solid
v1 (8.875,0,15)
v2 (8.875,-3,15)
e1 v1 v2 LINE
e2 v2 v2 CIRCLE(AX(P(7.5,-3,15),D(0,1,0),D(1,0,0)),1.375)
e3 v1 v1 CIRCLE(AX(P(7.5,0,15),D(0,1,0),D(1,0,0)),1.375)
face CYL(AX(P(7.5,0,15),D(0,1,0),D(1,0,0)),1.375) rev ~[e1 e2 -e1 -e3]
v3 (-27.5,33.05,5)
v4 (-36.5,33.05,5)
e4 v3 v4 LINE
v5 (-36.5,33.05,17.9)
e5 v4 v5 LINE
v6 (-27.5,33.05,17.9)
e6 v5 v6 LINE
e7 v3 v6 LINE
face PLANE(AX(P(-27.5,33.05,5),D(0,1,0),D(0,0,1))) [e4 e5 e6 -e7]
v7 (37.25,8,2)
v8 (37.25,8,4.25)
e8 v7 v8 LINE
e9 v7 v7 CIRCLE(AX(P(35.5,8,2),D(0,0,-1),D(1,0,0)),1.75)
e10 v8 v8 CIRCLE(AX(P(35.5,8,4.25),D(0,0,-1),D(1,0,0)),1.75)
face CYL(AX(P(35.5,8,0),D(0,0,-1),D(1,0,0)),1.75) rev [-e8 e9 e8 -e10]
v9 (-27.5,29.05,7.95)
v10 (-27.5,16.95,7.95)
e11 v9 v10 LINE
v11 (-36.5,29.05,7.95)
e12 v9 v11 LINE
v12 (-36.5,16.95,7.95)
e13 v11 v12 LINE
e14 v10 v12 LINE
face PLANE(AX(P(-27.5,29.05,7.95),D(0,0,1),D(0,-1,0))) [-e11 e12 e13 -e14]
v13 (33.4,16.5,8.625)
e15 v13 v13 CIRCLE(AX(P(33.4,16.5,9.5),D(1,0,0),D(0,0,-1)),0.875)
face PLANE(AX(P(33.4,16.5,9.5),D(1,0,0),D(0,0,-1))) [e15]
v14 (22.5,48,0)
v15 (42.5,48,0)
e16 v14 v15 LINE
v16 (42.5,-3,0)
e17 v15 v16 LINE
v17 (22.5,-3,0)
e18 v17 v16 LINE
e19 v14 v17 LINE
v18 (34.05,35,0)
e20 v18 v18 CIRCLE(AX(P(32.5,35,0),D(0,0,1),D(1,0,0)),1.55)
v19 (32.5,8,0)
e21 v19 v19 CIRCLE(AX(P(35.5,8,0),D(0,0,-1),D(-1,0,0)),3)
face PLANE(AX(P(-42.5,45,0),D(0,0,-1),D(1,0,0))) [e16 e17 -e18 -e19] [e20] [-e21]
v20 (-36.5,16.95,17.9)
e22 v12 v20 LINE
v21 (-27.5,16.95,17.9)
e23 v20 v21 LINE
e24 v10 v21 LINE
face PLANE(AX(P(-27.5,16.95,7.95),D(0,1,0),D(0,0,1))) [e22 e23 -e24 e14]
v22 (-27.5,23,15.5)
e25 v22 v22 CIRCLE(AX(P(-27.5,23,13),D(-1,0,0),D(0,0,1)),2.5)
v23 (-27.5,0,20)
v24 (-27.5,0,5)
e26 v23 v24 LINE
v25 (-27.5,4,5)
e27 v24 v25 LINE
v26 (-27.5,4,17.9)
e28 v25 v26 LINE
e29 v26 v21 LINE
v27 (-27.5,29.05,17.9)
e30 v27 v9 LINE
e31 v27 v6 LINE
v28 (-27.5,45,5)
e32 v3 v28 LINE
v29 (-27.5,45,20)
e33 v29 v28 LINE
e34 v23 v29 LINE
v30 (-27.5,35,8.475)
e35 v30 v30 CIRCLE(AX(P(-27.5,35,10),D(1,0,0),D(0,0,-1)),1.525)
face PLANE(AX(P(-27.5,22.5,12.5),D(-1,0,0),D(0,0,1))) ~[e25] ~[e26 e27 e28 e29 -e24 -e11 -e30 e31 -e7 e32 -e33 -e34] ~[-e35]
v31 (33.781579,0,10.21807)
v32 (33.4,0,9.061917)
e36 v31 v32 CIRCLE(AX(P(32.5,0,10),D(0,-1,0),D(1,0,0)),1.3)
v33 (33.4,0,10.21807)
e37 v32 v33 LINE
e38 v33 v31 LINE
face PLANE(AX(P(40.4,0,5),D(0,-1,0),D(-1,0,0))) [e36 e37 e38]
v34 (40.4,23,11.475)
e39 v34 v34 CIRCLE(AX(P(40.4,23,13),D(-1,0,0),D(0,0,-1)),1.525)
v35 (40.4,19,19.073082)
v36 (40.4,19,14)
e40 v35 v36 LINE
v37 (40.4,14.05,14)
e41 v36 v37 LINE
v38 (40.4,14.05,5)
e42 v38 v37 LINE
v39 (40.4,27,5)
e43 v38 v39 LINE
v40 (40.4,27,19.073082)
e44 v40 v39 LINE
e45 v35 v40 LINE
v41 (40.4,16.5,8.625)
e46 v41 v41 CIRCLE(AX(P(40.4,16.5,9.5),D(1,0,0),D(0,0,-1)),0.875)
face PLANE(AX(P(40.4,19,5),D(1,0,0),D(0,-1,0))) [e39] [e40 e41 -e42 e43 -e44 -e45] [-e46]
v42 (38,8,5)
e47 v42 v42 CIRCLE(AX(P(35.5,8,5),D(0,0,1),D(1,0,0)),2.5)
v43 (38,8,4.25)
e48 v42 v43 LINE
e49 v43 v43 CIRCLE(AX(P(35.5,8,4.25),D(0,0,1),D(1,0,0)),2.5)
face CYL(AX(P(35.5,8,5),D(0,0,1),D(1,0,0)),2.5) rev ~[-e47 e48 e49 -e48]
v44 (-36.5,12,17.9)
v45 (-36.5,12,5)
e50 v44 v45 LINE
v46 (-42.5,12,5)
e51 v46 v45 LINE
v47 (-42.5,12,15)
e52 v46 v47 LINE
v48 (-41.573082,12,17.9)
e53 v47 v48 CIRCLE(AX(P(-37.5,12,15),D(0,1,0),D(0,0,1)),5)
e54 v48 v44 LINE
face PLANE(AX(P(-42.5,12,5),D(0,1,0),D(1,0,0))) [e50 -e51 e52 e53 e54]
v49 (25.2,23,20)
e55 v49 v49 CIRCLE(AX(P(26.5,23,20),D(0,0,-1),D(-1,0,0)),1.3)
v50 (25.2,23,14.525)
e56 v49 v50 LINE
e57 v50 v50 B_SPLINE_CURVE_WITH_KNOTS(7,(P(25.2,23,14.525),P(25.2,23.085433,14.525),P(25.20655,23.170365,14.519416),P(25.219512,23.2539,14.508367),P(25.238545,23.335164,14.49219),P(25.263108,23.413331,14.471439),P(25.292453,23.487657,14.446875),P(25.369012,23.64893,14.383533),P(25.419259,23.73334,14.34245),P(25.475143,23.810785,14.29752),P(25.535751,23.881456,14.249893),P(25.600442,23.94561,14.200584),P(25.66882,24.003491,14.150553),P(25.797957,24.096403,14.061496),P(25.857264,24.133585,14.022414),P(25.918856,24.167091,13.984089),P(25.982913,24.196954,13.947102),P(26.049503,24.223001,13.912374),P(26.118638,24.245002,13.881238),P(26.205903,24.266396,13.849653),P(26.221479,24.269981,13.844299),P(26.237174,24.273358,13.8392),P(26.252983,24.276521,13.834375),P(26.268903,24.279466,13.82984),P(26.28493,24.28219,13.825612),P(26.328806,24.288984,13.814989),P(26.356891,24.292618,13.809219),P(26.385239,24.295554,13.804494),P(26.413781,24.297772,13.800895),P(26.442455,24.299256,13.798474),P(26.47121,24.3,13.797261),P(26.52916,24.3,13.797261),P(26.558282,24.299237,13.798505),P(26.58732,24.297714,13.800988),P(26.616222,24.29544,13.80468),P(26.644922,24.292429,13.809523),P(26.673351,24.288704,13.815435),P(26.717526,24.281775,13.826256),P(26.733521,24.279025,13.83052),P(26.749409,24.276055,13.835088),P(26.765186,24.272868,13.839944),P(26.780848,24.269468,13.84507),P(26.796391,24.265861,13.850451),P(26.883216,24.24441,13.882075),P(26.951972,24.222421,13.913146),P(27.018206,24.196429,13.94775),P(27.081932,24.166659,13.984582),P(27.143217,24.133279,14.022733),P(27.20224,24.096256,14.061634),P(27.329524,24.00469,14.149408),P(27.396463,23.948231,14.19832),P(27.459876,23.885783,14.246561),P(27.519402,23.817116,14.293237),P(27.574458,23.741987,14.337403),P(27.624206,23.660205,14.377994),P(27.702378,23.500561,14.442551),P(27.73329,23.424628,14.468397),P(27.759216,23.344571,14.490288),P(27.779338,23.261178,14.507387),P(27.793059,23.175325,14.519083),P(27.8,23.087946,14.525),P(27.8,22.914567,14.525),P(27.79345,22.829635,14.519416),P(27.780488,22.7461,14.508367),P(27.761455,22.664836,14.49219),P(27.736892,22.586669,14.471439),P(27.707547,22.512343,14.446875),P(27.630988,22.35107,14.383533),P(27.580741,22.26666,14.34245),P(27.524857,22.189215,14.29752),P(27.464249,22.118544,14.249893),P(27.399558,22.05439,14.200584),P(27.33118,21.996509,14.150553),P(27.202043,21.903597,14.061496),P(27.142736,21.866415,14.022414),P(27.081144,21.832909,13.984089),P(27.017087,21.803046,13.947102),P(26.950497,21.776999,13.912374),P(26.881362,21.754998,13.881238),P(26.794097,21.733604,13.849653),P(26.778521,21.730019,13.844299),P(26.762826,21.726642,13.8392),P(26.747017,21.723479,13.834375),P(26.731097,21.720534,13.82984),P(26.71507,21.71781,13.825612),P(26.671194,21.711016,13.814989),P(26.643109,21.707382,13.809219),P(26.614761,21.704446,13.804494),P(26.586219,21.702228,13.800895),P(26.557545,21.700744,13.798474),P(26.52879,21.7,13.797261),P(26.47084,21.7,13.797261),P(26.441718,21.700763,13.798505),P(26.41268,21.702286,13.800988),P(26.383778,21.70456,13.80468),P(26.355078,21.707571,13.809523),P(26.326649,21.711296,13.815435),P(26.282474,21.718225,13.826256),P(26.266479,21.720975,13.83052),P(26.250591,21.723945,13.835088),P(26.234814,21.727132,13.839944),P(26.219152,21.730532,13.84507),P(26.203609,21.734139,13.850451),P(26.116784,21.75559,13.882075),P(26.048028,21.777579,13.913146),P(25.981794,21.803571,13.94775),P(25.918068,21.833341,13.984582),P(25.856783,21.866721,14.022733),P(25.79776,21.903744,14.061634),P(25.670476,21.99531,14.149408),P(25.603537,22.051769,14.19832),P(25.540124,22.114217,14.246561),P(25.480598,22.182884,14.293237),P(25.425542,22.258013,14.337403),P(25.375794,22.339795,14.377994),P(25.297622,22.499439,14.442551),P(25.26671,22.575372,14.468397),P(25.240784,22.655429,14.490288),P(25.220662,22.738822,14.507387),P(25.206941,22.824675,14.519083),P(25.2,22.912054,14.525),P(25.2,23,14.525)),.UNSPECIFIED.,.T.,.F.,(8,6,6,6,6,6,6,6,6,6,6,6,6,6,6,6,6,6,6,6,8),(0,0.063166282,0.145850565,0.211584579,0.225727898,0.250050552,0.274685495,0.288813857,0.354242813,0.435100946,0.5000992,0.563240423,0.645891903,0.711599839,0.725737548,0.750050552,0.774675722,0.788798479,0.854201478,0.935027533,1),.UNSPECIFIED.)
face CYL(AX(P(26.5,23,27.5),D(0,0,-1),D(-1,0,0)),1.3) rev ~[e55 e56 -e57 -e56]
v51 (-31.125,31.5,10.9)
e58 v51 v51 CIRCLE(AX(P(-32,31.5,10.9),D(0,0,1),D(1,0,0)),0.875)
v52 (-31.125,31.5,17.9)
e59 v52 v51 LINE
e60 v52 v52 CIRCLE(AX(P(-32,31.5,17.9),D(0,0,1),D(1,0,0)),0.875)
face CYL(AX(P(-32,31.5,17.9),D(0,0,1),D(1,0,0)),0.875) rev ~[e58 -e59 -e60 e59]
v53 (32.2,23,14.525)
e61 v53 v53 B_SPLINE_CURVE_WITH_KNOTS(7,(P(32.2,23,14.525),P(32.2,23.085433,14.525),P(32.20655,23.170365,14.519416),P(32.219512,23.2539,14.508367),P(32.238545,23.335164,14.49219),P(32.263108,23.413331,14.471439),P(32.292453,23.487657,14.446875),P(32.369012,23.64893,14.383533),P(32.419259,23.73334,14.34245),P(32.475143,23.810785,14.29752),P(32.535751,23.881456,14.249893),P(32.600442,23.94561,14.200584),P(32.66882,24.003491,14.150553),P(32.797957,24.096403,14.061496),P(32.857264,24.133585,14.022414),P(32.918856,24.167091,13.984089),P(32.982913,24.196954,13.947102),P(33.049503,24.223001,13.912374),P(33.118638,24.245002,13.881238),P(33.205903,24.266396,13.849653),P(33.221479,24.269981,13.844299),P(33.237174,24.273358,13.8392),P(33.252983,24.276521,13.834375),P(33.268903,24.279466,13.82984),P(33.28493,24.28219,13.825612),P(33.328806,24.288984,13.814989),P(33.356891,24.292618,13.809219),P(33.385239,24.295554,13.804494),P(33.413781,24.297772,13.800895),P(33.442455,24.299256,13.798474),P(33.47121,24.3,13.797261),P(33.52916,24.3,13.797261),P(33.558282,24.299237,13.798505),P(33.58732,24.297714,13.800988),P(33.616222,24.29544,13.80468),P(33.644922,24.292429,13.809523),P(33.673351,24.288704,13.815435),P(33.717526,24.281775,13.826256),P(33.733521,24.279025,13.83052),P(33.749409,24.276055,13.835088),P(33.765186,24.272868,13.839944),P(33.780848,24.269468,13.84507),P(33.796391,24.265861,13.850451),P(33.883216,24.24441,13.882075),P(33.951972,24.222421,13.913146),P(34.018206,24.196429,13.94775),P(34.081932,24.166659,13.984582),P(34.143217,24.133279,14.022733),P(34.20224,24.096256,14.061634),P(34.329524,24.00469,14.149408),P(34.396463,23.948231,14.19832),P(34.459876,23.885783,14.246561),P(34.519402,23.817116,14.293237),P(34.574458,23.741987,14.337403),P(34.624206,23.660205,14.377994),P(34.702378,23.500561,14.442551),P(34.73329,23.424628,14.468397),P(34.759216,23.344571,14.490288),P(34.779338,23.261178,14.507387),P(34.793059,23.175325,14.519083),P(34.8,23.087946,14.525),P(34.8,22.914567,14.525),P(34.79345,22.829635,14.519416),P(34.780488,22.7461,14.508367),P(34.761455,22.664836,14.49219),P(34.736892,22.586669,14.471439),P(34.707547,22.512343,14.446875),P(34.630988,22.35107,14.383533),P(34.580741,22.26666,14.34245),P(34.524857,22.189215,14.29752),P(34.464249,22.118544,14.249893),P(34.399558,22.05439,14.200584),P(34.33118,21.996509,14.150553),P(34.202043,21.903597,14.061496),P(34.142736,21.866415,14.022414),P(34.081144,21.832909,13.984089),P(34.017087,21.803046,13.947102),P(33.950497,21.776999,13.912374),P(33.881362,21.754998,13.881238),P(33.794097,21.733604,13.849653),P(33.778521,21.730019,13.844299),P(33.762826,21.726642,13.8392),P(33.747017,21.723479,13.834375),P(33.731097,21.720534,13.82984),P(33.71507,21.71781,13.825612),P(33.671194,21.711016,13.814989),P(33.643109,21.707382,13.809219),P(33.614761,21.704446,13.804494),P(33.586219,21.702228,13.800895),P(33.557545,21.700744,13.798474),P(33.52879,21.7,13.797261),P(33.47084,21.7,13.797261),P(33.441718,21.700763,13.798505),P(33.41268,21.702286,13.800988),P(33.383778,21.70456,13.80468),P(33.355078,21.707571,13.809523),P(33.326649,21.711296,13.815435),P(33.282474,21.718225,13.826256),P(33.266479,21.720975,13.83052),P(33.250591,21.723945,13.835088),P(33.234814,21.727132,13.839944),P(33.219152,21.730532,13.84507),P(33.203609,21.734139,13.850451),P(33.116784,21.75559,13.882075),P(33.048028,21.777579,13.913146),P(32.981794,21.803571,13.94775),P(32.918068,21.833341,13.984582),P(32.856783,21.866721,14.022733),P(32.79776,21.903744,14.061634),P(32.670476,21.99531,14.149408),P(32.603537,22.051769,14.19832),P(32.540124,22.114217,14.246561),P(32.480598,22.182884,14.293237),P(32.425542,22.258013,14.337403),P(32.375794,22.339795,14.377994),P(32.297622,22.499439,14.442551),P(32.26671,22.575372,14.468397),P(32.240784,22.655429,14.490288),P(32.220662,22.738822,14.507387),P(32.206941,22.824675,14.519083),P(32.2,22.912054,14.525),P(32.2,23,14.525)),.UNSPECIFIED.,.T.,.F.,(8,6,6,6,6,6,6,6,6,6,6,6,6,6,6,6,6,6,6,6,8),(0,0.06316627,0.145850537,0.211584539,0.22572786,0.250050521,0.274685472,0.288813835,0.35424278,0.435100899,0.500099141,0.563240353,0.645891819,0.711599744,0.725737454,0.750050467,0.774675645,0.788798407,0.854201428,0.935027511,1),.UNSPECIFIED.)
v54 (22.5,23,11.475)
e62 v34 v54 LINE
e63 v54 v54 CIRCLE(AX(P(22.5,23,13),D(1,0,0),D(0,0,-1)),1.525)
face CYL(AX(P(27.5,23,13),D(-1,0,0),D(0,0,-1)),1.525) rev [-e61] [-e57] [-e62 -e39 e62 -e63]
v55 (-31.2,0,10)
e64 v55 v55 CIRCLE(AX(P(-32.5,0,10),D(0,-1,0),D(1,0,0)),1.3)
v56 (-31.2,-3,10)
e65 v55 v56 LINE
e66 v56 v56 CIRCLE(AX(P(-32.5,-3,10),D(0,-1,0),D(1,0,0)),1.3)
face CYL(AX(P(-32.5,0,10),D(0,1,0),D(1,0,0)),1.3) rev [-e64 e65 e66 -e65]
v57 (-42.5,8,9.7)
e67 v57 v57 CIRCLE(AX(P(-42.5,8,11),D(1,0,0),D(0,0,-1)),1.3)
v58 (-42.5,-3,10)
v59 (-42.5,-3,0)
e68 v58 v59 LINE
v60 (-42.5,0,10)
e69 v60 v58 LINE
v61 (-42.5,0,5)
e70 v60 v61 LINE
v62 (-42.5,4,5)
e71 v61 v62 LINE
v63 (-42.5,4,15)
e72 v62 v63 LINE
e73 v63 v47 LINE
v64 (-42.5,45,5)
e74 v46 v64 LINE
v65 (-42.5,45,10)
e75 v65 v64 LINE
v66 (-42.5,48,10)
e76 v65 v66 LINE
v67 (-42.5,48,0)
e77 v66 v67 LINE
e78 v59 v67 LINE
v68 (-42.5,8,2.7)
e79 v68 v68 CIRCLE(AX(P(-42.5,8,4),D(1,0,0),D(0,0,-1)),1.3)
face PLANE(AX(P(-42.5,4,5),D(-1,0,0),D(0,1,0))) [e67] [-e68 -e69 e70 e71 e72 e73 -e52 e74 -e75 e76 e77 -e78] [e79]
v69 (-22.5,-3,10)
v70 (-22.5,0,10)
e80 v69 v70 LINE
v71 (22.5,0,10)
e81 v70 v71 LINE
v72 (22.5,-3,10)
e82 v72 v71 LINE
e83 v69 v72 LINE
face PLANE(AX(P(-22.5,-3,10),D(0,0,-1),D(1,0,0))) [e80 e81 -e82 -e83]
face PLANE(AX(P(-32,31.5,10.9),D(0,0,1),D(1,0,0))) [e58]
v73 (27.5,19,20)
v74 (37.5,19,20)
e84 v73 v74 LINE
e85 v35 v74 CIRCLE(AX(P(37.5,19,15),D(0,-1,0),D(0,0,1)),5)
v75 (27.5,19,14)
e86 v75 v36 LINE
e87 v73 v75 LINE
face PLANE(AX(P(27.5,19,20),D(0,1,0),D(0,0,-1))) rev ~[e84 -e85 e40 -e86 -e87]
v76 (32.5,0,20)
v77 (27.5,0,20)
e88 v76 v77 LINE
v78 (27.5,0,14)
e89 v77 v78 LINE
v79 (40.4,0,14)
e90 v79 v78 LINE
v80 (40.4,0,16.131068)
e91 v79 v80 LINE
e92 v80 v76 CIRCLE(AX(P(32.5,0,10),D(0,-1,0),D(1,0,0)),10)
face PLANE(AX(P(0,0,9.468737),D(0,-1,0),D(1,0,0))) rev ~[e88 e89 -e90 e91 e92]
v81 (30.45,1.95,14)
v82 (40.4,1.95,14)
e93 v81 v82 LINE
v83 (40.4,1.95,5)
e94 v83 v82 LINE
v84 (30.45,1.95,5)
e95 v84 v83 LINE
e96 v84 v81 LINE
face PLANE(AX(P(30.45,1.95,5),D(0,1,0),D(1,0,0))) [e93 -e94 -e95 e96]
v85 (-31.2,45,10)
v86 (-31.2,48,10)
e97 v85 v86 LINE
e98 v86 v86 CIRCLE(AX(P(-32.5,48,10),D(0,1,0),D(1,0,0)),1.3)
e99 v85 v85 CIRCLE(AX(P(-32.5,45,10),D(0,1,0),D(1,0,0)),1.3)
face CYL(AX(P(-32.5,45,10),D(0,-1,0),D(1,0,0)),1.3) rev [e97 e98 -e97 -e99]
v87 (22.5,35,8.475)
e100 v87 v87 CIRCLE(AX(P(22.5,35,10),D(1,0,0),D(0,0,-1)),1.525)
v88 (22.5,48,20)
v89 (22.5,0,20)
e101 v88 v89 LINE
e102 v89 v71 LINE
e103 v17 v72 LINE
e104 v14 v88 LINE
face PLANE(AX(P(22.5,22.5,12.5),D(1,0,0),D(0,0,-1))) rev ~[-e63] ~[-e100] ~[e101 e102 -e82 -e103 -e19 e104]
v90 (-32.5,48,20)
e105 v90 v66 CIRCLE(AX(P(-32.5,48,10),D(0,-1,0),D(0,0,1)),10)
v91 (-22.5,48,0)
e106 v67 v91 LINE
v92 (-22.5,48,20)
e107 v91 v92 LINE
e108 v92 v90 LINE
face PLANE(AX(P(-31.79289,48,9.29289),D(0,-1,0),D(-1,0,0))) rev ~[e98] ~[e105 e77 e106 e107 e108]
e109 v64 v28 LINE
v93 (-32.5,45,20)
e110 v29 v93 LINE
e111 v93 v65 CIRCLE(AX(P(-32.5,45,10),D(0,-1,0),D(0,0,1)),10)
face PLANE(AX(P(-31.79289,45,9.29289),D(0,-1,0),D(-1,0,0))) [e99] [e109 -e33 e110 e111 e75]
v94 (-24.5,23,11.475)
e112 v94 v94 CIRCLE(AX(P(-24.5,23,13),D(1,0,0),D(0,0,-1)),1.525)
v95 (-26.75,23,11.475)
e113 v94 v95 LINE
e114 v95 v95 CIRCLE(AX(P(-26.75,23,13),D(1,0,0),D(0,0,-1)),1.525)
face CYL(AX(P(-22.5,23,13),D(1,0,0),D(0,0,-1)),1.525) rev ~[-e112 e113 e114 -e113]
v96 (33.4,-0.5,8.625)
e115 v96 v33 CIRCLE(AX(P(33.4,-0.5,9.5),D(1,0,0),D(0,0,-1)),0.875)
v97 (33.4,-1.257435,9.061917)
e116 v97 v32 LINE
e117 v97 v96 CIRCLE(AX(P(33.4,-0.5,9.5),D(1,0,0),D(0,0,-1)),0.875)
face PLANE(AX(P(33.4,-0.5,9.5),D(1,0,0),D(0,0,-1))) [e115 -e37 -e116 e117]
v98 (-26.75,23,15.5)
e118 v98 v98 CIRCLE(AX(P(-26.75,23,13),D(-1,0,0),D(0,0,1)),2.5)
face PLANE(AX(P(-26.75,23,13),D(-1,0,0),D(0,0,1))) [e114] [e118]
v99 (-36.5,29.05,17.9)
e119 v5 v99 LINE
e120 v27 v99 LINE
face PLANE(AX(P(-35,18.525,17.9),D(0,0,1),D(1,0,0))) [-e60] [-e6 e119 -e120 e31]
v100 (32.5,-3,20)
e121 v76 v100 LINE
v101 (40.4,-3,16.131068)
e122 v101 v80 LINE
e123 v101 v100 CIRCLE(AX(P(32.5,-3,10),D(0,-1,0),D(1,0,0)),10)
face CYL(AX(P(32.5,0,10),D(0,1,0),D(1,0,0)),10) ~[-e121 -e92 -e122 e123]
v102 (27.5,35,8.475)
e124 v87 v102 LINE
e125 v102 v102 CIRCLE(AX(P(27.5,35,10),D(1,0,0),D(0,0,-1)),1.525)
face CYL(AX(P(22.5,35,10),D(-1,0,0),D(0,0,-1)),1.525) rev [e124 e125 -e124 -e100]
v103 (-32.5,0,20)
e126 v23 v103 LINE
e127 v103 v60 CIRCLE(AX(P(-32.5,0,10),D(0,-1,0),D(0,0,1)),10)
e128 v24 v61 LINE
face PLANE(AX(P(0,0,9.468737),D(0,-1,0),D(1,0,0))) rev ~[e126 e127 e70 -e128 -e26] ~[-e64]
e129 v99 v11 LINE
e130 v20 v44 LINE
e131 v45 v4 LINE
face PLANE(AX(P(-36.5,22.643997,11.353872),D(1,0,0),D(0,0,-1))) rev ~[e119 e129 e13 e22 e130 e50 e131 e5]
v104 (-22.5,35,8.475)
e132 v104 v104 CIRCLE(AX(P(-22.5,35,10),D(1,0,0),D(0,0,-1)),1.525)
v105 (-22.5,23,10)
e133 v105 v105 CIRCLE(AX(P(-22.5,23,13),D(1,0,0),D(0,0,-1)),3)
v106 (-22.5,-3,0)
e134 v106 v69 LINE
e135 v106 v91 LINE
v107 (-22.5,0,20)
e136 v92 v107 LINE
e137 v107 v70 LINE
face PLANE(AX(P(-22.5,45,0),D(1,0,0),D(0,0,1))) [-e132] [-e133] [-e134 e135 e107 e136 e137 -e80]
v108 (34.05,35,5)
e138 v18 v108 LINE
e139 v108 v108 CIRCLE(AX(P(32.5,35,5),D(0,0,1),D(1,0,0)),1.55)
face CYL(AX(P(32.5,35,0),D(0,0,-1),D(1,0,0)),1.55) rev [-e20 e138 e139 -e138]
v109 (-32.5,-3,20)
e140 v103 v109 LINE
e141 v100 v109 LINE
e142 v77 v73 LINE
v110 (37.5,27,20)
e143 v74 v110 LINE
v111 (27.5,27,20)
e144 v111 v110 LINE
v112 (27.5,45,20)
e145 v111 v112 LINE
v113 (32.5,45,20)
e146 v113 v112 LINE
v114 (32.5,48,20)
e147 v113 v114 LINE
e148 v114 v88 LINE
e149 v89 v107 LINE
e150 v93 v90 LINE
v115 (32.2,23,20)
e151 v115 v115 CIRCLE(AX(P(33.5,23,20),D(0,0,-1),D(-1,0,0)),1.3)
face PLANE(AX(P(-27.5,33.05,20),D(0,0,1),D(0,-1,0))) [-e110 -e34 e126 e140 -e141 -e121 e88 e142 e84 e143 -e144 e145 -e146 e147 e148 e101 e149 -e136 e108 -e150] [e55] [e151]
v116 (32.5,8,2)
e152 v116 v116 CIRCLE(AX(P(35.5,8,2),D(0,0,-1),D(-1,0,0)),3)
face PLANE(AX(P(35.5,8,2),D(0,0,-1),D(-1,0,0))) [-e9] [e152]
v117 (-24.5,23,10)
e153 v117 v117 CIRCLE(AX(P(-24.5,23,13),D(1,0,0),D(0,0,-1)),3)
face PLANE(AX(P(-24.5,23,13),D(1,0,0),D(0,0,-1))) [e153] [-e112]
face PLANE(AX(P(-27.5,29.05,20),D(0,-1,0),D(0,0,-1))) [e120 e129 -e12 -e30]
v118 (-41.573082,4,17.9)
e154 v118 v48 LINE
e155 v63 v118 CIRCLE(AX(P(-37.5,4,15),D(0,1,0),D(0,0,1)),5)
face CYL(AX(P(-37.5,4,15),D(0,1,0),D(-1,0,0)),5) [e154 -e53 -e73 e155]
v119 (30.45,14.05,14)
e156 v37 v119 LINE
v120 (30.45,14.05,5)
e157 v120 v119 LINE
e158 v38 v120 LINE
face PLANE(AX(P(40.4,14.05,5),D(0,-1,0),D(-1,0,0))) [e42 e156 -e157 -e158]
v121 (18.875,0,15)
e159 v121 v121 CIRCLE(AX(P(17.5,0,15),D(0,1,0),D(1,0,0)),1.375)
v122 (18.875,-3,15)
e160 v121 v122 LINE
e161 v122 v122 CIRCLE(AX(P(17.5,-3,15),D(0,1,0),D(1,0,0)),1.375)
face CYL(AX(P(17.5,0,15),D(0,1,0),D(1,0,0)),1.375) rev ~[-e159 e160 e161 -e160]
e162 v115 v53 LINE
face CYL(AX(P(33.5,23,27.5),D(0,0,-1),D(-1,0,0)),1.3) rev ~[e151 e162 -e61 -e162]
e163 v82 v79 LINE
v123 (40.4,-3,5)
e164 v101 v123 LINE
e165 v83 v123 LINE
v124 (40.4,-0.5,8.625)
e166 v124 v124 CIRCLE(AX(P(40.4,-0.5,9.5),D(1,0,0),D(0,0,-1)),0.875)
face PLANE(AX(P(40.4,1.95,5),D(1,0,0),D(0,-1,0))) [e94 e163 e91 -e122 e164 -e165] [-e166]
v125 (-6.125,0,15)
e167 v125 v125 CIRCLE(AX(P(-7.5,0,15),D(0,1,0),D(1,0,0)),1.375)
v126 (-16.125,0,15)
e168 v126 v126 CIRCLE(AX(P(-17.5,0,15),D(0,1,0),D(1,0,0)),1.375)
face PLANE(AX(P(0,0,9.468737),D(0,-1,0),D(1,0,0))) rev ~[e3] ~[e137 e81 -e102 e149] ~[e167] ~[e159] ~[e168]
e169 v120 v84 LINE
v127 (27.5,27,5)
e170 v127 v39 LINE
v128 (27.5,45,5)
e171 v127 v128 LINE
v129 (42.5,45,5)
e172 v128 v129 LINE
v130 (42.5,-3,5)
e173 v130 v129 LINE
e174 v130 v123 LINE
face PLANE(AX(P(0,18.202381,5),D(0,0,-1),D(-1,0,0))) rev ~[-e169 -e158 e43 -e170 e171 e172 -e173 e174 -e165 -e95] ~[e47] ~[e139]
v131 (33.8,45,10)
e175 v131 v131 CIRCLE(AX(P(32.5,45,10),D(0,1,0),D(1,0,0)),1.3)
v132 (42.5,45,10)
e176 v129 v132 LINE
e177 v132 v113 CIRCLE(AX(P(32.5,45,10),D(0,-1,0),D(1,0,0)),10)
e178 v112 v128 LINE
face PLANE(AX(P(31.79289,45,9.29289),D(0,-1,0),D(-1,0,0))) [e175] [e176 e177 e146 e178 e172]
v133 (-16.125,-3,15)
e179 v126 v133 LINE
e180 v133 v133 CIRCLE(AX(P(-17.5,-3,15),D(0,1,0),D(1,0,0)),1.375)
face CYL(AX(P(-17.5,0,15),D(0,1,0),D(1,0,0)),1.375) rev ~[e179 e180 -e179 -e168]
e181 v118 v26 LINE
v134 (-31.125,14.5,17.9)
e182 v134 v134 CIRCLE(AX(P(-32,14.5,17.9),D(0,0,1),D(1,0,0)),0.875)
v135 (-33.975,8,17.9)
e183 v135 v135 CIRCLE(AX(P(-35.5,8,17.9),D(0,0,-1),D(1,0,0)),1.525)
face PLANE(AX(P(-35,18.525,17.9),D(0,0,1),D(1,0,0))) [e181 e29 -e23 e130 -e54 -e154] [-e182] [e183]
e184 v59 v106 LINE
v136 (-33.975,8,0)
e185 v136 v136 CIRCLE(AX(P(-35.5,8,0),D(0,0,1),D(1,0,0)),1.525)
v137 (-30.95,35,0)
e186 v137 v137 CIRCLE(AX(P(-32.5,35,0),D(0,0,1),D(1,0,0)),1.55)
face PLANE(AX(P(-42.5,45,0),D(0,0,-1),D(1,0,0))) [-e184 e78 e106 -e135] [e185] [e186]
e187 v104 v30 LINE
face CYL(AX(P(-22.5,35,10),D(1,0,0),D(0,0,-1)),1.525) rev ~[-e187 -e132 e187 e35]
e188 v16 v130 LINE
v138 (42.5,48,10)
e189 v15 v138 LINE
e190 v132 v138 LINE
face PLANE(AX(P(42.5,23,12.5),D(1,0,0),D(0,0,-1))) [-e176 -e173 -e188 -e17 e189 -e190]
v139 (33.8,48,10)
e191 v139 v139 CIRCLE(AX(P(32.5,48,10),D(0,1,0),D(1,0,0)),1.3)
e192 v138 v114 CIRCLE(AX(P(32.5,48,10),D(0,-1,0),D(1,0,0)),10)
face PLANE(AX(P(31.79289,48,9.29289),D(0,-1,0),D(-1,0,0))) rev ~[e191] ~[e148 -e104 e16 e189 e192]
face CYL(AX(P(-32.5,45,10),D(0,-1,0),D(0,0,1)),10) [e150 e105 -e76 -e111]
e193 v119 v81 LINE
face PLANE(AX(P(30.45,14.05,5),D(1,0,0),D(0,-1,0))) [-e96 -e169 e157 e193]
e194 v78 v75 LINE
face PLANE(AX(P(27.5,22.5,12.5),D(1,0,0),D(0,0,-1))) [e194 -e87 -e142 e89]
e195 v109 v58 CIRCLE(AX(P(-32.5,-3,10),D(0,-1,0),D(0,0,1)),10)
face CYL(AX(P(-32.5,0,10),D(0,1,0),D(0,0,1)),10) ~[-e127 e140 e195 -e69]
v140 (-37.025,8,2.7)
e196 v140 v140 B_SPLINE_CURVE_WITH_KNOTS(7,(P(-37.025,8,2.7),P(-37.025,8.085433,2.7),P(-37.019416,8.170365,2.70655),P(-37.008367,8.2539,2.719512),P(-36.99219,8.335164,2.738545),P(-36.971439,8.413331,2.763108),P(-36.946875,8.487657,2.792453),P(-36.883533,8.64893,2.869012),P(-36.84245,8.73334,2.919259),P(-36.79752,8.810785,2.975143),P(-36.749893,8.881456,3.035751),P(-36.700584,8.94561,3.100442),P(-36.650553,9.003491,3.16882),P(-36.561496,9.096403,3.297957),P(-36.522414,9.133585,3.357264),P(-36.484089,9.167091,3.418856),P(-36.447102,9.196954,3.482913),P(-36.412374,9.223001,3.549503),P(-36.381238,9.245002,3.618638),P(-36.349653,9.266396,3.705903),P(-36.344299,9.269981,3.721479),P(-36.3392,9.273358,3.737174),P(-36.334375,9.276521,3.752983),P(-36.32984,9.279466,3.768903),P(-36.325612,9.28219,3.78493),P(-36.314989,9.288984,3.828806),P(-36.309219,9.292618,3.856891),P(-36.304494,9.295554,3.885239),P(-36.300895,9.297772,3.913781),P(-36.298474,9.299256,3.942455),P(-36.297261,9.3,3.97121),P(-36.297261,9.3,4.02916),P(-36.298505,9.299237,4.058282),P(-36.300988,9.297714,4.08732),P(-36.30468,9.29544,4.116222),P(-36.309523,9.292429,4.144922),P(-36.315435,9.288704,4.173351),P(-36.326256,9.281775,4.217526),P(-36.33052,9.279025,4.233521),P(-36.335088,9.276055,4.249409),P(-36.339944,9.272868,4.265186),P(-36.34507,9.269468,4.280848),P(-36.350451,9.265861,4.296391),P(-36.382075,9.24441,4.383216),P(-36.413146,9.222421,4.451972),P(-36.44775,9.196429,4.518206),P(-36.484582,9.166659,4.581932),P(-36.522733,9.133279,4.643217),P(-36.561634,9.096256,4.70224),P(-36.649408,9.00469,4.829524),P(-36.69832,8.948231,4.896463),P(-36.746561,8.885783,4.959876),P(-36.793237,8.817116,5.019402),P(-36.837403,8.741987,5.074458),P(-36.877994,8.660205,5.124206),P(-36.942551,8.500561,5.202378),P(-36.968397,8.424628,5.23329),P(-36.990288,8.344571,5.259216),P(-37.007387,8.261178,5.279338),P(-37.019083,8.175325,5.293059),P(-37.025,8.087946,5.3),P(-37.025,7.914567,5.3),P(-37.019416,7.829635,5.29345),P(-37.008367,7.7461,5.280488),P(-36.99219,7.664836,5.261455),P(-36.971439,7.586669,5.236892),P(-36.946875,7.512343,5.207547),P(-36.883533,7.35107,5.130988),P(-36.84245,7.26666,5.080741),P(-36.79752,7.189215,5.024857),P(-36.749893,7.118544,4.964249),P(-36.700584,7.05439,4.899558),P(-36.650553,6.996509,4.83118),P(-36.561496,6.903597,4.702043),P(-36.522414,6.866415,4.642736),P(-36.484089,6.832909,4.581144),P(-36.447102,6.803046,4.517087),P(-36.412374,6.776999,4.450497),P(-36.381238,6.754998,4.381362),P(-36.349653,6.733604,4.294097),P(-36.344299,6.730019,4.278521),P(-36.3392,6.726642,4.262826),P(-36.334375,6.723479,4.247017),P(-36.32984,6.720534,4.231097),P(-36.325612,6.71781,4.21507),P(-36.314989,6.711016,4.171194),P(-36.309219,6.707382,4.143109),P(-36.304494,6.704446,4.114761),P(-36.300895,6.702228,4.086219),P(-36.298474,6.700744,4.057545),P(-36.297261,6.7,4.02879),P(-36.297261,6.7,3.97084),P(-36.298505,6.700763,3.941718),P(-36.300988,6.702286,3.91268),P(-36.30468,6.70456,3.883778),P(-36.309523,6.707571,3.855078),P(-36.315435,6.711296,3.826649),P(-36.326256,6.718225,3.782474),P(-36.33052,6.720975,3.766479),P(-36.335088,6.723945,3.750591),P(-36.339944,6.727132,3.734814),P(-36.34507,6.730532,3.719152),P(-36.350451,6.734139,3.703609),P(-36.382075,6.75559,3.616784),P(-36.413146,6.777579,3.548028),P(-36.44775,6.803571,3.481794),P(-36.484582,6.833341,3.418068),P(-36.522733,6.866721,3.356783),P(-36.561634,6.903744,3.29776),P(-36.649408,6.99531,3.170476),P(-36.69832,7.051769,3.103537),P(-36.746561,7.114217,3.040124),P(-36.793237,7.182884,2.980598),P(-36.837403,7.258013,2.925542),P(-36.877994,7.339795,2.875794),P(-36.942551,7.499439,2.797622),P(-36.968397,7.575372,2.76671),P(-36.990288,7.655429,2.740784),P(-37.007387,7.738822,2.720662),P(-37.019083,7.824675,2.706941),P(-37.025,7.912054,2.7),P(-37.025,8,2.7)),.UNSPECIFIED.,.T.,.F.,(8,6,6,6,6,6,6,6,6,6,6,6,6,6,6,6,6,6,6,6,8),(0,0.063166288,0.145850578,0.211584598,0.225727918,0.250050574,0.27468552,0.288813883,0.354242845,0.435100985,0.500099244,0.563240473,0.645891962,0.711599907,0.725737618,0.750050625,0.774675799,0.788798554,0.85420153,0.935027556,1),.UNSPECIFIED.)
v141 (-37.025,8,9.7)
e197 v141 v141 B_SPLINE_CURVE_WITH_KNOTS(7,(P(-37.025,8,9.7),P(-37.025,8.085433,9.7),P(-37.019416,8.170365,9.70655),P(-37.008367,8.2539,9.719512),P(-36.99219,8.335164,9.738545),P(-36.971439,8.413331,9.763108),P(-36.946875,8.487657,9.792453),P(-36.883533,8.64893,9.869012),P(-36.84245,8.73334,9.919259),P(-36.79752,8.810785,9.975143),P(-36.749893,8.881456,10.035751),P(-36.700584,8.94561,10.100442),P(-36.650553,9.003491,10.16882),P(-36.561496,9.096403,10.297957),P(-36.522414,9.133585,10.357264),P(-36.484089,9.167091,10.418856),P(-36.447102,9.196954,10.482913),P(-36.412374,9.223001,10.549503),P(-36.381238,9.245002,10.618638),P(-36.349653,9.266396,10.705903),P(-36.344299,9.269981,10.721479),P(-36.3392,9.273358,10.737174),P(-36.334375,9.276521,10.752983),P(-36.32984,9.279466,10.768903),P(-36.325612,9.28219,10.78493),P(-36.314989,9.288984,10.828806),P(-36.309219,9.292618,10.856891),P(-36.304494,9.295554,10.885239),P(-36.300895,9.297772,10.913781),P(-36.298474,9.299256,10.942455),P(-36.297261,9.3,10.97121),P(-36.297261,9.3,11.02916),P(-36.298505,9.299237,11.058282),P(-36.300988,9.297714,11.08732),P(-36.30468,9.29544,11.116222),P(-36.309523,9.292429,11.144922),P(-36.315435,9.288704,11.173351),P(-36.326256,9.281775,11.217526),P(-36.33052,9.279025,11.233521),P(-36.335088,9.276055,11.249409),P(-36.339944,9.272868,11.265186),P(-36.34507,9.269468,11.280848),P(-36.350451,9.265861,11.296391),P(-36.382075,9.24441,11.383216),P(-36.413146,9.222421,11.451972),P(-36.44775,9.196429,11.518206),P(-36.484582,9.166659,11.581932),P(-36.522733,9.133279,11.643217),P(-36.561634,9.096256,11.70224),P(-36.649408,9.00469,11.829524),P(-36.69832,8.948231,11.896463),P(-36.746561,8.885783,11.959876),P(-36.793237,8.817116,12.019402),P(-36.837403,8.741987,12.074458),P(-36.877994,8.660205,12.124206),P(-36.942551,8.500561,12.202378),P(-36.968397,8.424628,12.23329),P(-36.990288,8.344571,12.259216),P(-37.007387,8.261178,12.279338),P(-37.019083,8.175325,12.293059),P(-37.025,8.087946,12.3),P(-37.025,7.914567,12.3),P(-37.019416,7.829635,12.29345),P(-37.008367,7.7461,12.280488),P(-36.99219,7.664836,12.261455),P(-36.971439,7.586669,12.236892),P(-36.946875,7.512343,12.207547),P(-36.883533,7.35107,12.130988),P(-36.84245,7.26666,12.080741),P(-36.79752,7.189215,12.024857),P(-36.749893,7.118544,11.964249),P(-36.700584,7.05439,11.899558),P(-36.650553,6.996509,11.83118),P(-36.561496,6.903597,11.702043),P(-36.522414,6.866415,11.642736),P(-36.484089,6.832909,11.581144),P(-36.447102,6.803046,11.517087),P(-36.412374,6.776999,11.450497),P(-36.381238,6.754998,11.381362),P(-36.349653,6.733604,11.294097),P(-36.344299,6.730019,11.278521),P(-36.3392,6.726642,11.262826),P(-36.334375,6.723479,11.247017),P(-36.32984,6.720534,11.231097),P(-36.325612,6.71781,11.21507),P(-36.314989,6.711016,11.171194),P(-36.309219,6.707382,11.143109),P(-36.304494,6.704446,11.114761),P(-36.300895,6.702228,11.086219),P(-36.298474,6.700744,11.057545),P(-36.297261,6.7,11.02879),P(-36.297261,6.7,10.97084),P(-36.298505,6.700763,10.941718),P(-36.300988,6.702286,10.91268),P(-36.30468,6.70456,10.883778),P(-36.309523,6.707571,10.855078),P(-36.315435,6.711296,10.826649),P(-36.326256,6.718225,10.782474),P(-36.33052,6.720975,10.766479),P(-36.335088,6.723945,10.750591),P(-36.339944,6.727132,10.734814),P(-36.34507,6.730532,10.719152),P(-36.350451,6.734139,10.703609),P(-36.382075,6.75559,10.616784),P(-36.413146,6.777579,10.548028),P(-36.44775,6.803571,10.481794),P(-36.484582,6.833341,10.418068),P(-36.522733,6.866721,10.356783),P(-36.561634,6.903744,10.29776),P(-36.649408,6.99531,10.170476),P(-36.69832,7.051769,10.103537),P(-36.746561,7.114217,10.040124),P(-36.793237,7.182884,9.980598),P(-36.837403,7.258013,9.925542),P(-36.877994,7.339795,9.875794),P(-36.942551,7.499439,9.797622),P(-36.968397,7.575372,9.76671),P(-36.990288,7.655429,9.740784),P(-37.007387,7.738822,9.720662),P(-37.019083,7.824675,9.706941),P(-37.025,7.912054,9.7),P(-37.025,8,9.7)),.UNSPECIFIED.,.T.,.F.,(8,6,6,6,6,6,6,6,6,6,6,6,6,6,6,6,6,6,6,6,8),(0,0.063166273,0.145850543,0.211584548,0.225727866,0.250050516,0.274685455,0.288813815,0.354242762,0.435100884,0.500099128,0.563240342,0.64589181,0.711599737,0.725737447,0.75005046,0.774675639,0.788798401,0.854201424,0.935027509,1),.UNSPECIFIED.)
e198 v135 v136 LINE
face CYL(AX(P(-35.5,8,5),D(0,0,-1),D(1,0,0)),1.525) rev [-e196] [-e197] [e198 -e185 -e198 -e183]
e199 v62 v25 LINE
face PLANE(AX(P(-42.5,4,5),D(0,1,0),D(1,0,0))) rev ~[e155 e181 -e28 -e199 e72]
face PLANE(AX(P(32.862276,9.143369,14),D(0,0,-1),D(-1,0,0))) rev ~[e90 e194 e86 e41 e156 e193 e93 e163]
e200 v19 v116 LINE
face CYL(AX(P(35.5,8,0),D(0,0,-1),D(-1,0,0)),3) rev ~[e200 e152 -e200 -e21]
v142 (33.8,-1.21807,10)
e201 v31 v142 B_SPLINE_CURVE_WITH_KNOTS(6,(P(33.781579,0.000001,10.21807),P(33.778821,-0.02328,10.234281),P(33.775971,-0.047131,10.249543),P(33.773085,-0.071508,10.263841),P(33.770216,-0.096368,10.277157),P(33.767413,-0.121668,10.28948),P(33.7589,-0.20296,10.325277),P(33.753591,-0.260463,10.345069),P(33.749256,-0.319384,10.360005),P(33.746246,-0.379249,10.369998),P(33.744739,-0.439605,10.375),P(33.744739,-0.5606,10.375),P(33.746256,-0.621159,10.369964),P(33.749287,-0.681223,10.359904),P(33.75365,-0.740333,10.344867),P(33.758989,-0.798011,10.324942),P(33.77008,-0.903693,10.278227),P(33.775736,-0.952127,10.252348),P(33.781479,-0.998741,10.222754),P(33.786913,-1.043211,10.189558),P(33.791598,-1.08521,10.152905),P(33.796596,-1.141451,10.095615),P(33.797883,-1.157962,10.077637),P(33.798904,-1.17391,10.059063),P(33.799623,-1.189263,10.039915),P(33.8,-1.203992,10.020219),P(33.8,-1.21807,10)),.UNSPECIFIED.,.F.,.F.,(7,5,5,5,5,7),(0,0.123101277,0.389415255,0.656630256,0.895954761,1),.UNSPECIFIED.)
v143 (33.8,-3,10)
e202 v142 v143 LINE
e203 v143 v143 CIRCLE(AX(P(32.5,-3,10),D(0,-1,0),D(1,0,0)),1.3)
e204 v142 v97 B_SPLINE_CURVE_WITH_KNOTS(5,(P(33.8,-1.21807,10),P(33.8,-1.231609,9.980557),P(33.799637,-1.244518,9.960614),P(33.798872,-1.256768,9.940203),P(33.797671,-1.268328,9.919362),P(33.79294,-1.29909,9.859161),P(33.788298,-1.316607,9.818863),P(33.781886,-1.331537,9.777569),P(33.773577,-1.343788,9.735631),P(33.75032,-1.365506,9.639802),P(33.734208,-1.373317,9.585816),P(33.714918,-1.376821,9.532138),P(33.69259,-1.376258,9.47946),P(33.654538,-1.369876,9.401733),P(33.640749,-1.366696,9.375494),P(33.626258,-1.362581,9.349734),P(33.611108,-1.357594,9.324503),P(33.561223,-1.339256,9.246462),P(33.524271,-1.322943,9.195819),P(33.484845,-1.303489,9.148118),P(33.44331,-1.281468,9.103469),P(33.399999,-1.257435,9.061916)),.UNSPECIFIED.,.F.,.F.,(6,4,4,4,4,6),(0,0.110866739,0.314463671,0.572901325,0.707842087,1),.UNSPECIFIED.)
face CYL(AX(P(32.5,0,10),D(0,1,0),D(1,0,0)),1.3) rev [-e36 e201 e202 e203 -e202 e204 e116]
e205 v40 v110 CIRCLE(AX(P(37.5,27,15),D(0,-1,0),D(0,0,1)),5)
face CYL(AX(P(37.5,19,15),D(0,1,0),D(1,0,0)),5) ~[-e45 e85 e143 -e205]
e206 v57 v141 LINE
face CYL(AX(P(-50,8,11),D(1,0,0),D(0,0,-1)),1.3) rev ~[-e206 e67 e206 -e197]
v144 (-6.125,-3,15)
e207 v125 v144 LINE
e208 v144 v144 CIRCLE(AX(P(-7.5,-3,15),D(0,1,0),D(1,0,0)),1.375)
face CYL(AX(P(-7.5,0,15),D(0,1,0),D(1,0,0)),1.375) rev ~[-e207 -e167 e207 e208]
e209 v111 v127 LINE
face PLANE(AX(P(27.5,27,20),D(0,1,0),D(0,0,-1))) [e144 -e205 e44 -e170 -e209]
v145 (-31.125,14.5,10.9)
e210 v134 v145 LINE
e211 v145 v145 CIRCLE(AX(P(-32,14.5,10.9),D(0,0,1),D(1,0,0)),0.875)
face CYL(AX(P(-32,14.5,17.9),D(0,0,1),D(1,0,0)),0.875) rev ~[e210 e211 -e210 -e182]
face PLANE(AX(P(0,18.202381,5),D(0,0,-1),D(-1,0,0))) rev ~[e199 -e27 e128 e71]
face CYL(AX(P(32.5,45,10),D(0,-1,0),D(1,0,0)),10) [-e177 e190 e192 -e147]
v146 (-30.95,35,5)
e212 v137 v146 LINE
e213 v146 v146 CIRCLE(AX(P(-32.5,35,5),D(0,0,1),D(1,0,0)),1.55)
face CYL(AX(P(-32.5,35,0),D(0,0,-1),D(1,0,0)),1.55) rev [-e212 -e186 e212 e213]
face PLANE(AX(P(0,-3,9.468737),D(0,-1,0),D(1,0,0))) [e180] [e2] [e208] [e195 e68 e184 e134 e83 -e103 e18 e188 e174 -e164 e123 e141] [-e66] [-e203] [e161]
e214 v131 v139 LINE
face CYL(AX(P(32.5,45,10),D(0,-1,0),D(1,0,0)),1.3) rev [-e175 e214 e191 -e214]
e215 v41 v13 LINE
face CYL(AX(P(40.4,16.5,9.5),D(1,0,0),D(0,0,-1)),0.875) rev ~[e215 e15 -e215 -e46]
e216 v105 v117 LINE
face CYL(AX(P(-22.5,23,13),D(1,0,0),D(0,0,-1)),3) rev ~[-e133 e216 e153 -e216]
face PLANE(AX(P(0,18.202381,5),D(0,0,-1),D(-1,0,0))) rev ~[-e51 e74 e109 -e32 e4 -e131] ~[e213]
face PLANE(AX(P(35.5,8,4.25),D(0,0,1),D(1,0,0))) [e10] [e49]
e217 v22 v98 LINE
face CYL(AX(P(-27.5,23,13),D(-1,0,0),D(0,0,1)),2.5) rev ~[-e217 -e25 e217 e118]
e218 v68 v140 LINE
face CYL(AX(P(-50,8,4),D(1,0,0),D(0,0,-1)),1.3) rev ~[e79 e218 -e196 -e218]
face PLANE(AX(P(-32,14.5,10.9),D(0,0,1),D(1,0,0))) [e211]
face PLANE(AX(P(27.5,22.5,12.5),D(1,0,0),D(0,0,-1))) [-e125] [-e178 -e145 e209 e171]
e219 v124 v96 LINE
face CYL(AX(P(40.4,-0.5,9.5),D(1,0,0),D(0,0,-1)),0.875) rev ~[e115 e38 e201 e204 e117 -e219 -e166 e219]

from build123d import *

# Parameters (mm, degrees)
SKETCH1_R                 = 1.75
SKETCH1_R_2               = 1.525
SKETCH1_R_3               = 1.55
MAIN_FLANGE_DEPTH         = 5
SKETCH2_W                 = 15
SKETCH2_H                 = 45
SKETCH2_R                 = 1.525
SIDE_FLANGE_DEPTH         = 5
SKETCH11_R                = 1.3
BOSS_EXTRUDE3_DEPTH       = 3
BOSS_EXTRUDE4_DEPTH       = 7
SKETCH16_R                = 1.3
TOP_SUPPORT_DEPTH         = 3
SKETCH18_W                = 15
SKETCH18_H                = 8
SKETCH18_R                = 1.525
BOSS_EXTRUDE5_DEPTH       = 15
SKETCH19_W                = 15
SKETCH19_H                = 8
SKETCH19_R                = 1.525
BOSS_EXTRUDE6_DEPTH       = 15
FILLET1_R                 = 5
M3X0_5_TAPPED_HOLE1_D     = 2.6
M3X0_5_TAPPED_HOLE1_DEPTH = 7.5
M3X0_5_TAPPED_HOLE1_TIP   = 0.781118805
M3X0_5_TAPPED_HOLE2_D     = 2.6
M3X0_5_TAPPED_HOLE2_DEPTH = 7.5
M3X0_5_TAPPED_HOLE2_TIP   = 0.781118805
SKETCH24_R                = 2.5
CUT_EXTRUDE1_DEPTH        = 0.75
SKETCH25_R                = 2.5
CUT_EXTRUDE2_DEPTH        = 0.75
SKETCH26_W                = 10
SKETCH26_H                = 2.85
BOSS_EXTRUDE7_DEPTH       = 10
MOTOR_MOUNT_DEPTH         = 9
SKETCH33_W                = 15
SKETCH33_H                = 30
CUT_EXTRUDE6_DEPTH        = 2.1
SKETCH34_R                = 0.875
CUT_EXTRUDE7_DEPTH        = 7
BOSS_EXTRUDE9_DEPTH       = 9
SKETCH36_W                = 15
SKETCH36_H                = 29.05
CUT_EXTRUDE8_DEPTH        = 2.1
SKETCH37_R                = 0.875
CUT_EXTRUDE9_DEPTH        = 7
SKETCH39_W                = 45
SKETCH39_H                = 10
CUT_EXTRUDE11_DEPTH       = 52
SKETCH40_R                = 1.375
MOUNT_HOLES_DEPTH         = 4.0000001
SKETCH41_R                = 3
BEARING_HOLDER_DEPTH      = 2
SKETCH42_R                = 3
CUT_EXTRUDE14_DEPTH       = 2


with BuildPart() as part:
    # Sketch1 → main flange (new body)
    with BuildSketch(Plane.XY):
        Polygon((-22.5, 7), (0, 7), (22.5, 7), (22.5, 45), (42.5, 45), (42.5, 0), (-42.5, 0), (-42.5, 45), (-22.5, 45), align=None)
        with Locations((35.5, 8)):
            Circle(SKETCH1_R, mode=Mode.SUBTRACT)
        with Locations((-35.5, 8)):
            Circle(SKETCH1_R_2, mode=Mode.SUBTRACT)
        with Locations((32.5, 35)):
            Circle(SKETCH1_R_3, mode=Mode.SUBTRACT)
        with Locations((-32.5, 35)):
            Circle(SKETCH1_R_3, mode=Mode.SUBTRACT)
    extrude(amount=MAIN_FLANGE_DEPTH)

    # Sketch2 → side flange (add)
    with BuildSketch(Plane(origin=(22.5, 0, 0), x_dir=(0, 0, -1), z_dir=(1, 0, 0))):
        with Locations((-12.5, 22.5)):
            Rectangle(SKETCH2_W, SKETCH2_H)
        with Locations((-13, 23)):
            Circle(SKETCH2_R, mode=Mode.SUBTRACT)
        with Locations((-10, 35)):
            Circle(SKETCH2_R, mode=Mode.SUBTRACT)
    side_flange = extrude(amount=SIDE_FLANGE_DEPTH)

    # Mirror1: side flange across plane
    add(side_flange.mirror(Plane(origin=(0, 0, 0), x_dir=(0, 0, 1), z_dir=(1, 0, 0))))

    # Sketch11 → Boss-Extrude3 (add)
    with BuildSketch(Plane.XZ):
        with BuildLine():
            Line((-42.5, 0), (42.5, 0))
            Line((42.5, 0), (42.5, 10))
            ThreePointArc((42.5, 10), (39.571067812, 17.071067812), (32.5, 20))
            Line((32.5, 20), (-32.5, 20))
            ThreePointArc((-32.5, 20), (-39.571067812, 17.071067812), (-42.5, 10))
            Line((-42.5, 10), (-42.5, 0))
        make_face()
        with Locations((-32.5, 10)):
            Circle(SKETCH11_R, mode=Mode.SUBTRACT)
        with Locations((32.5, 10)):
            Circle(SKETCH11_R, mode=Mode.SUBTRACT)
    extrude(amount=BOSS_EXTRUDE3_DEPTH)

    # Sketch12 → Boss-Extrude4 (add)
    with BuildSketch(Plane(origin=(0, 0, 0), x_dir=(1, 0, 0), z_dir=(0, 1, 0))):
        with BuildLine():
            Line((-4, -3), (-4, 0))
            Line((-4, 0), (4, 0))
            Line((4, 0), (4, -3))
            ThreePointArc((4, -3), (0, -7), (-4, -3))
        make_face()
    extrude(amount=BOSS_EXTRUDE4_DEPTH)

    # Sketch15 → CSK for M3 Flat Head Machine Screw1 (revolve, cut)
    with BuildSketch(Plane(origin=(0, -3, 3), x_dir=(0, 0, -1), z_dir=(1, 0, 0))):
        Polygon((0, 0), (0, 10), (1.8, 10), (1.8, 1.5), (3.15, 0.15), (3.15, 0), align=None)
    revolve(axis=Axis((0, -9.35, 3), (0, 1, 0)), mode=Mode.SUBTRACT)

    # Sketch16 → Top support (add)
    with BuildSketch(Plane(origin=(0, 45, 0), x_dir=(1, 0, 0), z_dir=(0, 1, 0))):
        with BuildLine():
            Line((-42.5, 0), (-22.5, 0))
            Line((-22.5, 0), (-22.5, -20))
            Line((-22.5, -20), (-32.5, -20))
            ThreePointArc((-32.5, -20), (-39.571067812, -17.071067812), (-42.5, -10))
            Line((-42.5, -10), (-42.5, 0))
        make_face()
        with Locations((-32.5, -10)):
            Circle(SKETCH16_R, mode=Mode.SUBTRACT)
        with BuildLine():
            Line((42.5, 0), (42.5, -10))
            ThreePointArc((42.5, -10), (39.571067812, -17.071067812), (32.5, -20))
            Line((32.5, -20), (22.5, -20))
            Line((22.5, -20), (22.5, 0))
            Line((22.5, 0), (42.5, 0))
        make_face()
        with Locations((32.5, -10)):
            Circle(SKETCH16_R, mode=Mode.SUBTRACT)
    extrude(amount=TOP_SUPPORT_DEPTH)

    # Sketch18 → Boss-Extrude5 (add)
    with BuildSketch(Plane(origin=(27.5, 0, 0), x_dir=(0, 0, -1), z_dir=(1, 0, 0))):
        with Locations((-12.5, 23)):
            Rectangle(SKETCH18_W, SKETCH18_H)
        with Locations((-13, 23)):
            Circle(SKETCH18_R, mode=Mode.SUBTRACT)
    extrude(amount=BOSS_EXTRUDE5_DEPTH)

    # Sketch19 → Boss-Extrude6 (add)
    with BuildSketch(Plane.XY.offset(5)):
        with Locations((-35, 8)):
            Rectangle(SKETCH19_W, SKETCH19_H)
        with Locations((-35.5, 8)):
            Circle(SKETCH19_R, mode=Mode.SUBTRACT)
    extrude(amount=BOSS_EXTRUDE6_DEPTH)

    # Fillet1
    fillet1_edges = [part.edges().sort_by_distance(p)[0] for p in [
        (42.5, 23, 20),
        (-42.5, 8, 20),
    ]]
    fillet(fillet1_edges, radius=FILLET1_R)

    # M3x0.5 Tapped Hole1
    with Locations(Plane.ZY.offset(42.5)):
        with Locations((11, 8), (4, 8)):
            Hole(M3X0_5_TAPPED_HOLE1_D / 2, depth=M3X0_5_TAPPED_HOLE1_DEPTH)
            with Locations((0, 0, -(M3X0_5_TAPPED_HOLE1_DEPTH + M3X0_5_TAPPED_HOLE1_TIP / 2))):  # 118° drill point
                Cone(0, M3X0_5_TAPPED_HOLE1_D / 2, M3X0_5_TAPPED_HOLE1_TIP, mode=Mode.SUBTRACT)

    # M3x0.5 Tapped Hole2
    with Locations(Plane.XY.offset(20)):
        with Locations((33.5, 23), (26.5, 23)):
            Hole(M3X0_5_TAPPED_HOLE2_D / 2, depth=M3X0_5_TAPPED_HOLE2_DEPTH)
            with Locations((0, 0, -(M3X0_5_TAPPED_HOLE2_DEPTH + M3X0_5_TAPPED_HOLE2_TIP / 2))):  # 118° drill point
                Cone(0, M3X0_5_TAPPED_HOLE2_D / 2, M3X0_5_TAPPED_HOLE2_TIP, mode=Mode.SUBTRACT)

    # Sketch24 → Cut-Extrude1 (cut)
    with BuildSketch(Plane.XY.offset(5)):
        with Locations((35.5, 8)):
            Circle(SKETCH24_R)
    extrude(amount=-CUT_EXTRUDE1_DEPTH, mode=Mode.SUBTRACT)

    # Sketch25 → Cut-Extrude2 (cut)
    with BuildSketch(Plane.ZY.offset(27.5)):
        with Locations((13, 23)):
            Circle(SKETCH25_R)
    extrude(amount=-CUT_EXTRUDE2_DEPTH, mode=Mode.SUBTRACT)

    # Sketch26 → Boss-Extrude7 (add)
    with BuildSketch(Plane(origin=(0, 7, 0), x_dir=(1, 0, 0), z_dir=(0, 1, 0))):
        with Locations((-10.2, -1.425)):
            Rectangle(SKETCH26_W, SKETCH26_H)
        with Locations((10.2, -1.425)):
            Rectangle(SKETCH26_W, SKETCH26_H)
    extrude(amount=BOSS_EXTRUDE7_DEPTH)

    # Sketch32 → Motor mount (add)
    with BuildSketch(Plane.XY.offset(5)):
        Polygon((40.4, 14.05), (30.45, 14.05), (30.45, 1.95), (40.4, 1.95), (40.4, 0), (27.5, 0), (27.5, 19), (40.4, 19), align=None)
    extrude(amount=MOTOR_MOUNT_DEPTH)

    # Sketch33 → Cut-Extrude6 (cut)
    with BuildSketch(Plane(origin=(42.5, 0, 0), x_dir=(0, 0, -1), z_dir=(1, 0, 0))):
        with Locations((-12.5, 12)):
            Rectangle(SKETCH33_W, SKETCH33_H)
    extrude(amount=-CUT_EXTRUDE6_DEPTH, mode=Mode.SUBTRACT)

    # Sketch34 → Cut-Extrude7 (cut)
    with BuildSketch(Plane(origin=(40.4, 0, 0), x_dir=(0, 0, -1), z_dir=(1, 0, 0))):
        with Locations((-9.5, 16.5)):
            Circle(SKETCH34_R)
        with Locations((-9.5, -0.5)):
            Circle(SKETCH34_R)
    extrude(amount=-CUT_EXTRUDE7_DEPTH, mode=Mode.SUBTRACT)

    # Sketch35 → Boss-Extrude9 (add)
    with BuildSketch(Plane.ZY.offset(27.5)):
        Polygon((20, 29.05), (7.95, 29.05), (7.95, 16.95), (20, 16.95), (20, 12), (5, 12), (5, 33.05), (20, 33.05), align=None)
    extrude(amount=BOSS_EXTRUDE9_DEPTH)

    # Sketch36 → Cut-Extrude8 (cut)
    with BuildSketch(Plane.XY.offset(20)):
        with Locations((-35, 18.525)):
            Rectangle(SKETCH36_W, SKETCH36_H)
    extrude(amount=-CUT_EXTRUDE8_DEPTH, mode=Mode.SUBTRACT)

    # Sketch37 → Cut-Extrude9 (cut)
    with BuildSketch(Plane.XY.offset(17.9)):
        with Locations((-32, 31.5)):
            Circle(SKETCH37_R)
        with Locations((-32, 14.5)):
            Circle(SKETCH37_R)
    extrude(amount=-CUT_EXTRUDE9_DEPTH, mode=Mode.SUBTRACT)

    # Sketch39 → Cut-Extrude11 (cut, through all)
    with BuildSketch(Plane.XZ.offset(3)):
        with Locations((0, 5)):
            Rectangle(SKETCH39_W, SKETCH39_H)
    extrude(amount=-CUT_EXTRUDE11_DEPTH, mode=Mode.SUBTRACT)

    # Sketch40 → Mount Holes (cut, through all)
    with BuildSketch(Plane(origin=(0, 0, 0), x_dir=(1, 0, 0), z_dir=(0, 1, 0))):
        with Locations((-17.5, -15)):
            Circle(SKETCH40_R)
        with Locations((-7.5, -15)):
            Circle(SKETCH40_R)
        with Locations((7.5, -15)):
            Circle(SKETCH40_R)
        with Locations((17.5, -15)):
            Circle(SKETCH40_R)
    extrude(amount=-MOUNT_HOLES_DEPTH, mode=Mode.SUBTRACT)

    # Sketch41 → Bearing Holder (cut)
    with BuildSketch(Plane(origin=(-22.5, 0, 0), x_dir=(0, 0, -1), z_dir=(1, 0, 0))):
        with Locations((-13, 23)):
            Circle(SKETCH41_R)
    extrude(amount=-BEARING_HOLDER_DEPTH, mode=Mode.SUBTRACT)

    # Sketch42 → Cut-Extrude14 (cut)
    with BuildSketch(Plane(origin=(0, 0, 0), x_dir=(-1, 0, 0), z_dir=(0, 0, -1))):
        with Locations((-35.5, 8)):
            Circle(SKETCH42_R)
    extrude(amount=-CUT_EXTRUDE14_DEPTH, mode=Mode.SUBTRACT)


solid = part.part
